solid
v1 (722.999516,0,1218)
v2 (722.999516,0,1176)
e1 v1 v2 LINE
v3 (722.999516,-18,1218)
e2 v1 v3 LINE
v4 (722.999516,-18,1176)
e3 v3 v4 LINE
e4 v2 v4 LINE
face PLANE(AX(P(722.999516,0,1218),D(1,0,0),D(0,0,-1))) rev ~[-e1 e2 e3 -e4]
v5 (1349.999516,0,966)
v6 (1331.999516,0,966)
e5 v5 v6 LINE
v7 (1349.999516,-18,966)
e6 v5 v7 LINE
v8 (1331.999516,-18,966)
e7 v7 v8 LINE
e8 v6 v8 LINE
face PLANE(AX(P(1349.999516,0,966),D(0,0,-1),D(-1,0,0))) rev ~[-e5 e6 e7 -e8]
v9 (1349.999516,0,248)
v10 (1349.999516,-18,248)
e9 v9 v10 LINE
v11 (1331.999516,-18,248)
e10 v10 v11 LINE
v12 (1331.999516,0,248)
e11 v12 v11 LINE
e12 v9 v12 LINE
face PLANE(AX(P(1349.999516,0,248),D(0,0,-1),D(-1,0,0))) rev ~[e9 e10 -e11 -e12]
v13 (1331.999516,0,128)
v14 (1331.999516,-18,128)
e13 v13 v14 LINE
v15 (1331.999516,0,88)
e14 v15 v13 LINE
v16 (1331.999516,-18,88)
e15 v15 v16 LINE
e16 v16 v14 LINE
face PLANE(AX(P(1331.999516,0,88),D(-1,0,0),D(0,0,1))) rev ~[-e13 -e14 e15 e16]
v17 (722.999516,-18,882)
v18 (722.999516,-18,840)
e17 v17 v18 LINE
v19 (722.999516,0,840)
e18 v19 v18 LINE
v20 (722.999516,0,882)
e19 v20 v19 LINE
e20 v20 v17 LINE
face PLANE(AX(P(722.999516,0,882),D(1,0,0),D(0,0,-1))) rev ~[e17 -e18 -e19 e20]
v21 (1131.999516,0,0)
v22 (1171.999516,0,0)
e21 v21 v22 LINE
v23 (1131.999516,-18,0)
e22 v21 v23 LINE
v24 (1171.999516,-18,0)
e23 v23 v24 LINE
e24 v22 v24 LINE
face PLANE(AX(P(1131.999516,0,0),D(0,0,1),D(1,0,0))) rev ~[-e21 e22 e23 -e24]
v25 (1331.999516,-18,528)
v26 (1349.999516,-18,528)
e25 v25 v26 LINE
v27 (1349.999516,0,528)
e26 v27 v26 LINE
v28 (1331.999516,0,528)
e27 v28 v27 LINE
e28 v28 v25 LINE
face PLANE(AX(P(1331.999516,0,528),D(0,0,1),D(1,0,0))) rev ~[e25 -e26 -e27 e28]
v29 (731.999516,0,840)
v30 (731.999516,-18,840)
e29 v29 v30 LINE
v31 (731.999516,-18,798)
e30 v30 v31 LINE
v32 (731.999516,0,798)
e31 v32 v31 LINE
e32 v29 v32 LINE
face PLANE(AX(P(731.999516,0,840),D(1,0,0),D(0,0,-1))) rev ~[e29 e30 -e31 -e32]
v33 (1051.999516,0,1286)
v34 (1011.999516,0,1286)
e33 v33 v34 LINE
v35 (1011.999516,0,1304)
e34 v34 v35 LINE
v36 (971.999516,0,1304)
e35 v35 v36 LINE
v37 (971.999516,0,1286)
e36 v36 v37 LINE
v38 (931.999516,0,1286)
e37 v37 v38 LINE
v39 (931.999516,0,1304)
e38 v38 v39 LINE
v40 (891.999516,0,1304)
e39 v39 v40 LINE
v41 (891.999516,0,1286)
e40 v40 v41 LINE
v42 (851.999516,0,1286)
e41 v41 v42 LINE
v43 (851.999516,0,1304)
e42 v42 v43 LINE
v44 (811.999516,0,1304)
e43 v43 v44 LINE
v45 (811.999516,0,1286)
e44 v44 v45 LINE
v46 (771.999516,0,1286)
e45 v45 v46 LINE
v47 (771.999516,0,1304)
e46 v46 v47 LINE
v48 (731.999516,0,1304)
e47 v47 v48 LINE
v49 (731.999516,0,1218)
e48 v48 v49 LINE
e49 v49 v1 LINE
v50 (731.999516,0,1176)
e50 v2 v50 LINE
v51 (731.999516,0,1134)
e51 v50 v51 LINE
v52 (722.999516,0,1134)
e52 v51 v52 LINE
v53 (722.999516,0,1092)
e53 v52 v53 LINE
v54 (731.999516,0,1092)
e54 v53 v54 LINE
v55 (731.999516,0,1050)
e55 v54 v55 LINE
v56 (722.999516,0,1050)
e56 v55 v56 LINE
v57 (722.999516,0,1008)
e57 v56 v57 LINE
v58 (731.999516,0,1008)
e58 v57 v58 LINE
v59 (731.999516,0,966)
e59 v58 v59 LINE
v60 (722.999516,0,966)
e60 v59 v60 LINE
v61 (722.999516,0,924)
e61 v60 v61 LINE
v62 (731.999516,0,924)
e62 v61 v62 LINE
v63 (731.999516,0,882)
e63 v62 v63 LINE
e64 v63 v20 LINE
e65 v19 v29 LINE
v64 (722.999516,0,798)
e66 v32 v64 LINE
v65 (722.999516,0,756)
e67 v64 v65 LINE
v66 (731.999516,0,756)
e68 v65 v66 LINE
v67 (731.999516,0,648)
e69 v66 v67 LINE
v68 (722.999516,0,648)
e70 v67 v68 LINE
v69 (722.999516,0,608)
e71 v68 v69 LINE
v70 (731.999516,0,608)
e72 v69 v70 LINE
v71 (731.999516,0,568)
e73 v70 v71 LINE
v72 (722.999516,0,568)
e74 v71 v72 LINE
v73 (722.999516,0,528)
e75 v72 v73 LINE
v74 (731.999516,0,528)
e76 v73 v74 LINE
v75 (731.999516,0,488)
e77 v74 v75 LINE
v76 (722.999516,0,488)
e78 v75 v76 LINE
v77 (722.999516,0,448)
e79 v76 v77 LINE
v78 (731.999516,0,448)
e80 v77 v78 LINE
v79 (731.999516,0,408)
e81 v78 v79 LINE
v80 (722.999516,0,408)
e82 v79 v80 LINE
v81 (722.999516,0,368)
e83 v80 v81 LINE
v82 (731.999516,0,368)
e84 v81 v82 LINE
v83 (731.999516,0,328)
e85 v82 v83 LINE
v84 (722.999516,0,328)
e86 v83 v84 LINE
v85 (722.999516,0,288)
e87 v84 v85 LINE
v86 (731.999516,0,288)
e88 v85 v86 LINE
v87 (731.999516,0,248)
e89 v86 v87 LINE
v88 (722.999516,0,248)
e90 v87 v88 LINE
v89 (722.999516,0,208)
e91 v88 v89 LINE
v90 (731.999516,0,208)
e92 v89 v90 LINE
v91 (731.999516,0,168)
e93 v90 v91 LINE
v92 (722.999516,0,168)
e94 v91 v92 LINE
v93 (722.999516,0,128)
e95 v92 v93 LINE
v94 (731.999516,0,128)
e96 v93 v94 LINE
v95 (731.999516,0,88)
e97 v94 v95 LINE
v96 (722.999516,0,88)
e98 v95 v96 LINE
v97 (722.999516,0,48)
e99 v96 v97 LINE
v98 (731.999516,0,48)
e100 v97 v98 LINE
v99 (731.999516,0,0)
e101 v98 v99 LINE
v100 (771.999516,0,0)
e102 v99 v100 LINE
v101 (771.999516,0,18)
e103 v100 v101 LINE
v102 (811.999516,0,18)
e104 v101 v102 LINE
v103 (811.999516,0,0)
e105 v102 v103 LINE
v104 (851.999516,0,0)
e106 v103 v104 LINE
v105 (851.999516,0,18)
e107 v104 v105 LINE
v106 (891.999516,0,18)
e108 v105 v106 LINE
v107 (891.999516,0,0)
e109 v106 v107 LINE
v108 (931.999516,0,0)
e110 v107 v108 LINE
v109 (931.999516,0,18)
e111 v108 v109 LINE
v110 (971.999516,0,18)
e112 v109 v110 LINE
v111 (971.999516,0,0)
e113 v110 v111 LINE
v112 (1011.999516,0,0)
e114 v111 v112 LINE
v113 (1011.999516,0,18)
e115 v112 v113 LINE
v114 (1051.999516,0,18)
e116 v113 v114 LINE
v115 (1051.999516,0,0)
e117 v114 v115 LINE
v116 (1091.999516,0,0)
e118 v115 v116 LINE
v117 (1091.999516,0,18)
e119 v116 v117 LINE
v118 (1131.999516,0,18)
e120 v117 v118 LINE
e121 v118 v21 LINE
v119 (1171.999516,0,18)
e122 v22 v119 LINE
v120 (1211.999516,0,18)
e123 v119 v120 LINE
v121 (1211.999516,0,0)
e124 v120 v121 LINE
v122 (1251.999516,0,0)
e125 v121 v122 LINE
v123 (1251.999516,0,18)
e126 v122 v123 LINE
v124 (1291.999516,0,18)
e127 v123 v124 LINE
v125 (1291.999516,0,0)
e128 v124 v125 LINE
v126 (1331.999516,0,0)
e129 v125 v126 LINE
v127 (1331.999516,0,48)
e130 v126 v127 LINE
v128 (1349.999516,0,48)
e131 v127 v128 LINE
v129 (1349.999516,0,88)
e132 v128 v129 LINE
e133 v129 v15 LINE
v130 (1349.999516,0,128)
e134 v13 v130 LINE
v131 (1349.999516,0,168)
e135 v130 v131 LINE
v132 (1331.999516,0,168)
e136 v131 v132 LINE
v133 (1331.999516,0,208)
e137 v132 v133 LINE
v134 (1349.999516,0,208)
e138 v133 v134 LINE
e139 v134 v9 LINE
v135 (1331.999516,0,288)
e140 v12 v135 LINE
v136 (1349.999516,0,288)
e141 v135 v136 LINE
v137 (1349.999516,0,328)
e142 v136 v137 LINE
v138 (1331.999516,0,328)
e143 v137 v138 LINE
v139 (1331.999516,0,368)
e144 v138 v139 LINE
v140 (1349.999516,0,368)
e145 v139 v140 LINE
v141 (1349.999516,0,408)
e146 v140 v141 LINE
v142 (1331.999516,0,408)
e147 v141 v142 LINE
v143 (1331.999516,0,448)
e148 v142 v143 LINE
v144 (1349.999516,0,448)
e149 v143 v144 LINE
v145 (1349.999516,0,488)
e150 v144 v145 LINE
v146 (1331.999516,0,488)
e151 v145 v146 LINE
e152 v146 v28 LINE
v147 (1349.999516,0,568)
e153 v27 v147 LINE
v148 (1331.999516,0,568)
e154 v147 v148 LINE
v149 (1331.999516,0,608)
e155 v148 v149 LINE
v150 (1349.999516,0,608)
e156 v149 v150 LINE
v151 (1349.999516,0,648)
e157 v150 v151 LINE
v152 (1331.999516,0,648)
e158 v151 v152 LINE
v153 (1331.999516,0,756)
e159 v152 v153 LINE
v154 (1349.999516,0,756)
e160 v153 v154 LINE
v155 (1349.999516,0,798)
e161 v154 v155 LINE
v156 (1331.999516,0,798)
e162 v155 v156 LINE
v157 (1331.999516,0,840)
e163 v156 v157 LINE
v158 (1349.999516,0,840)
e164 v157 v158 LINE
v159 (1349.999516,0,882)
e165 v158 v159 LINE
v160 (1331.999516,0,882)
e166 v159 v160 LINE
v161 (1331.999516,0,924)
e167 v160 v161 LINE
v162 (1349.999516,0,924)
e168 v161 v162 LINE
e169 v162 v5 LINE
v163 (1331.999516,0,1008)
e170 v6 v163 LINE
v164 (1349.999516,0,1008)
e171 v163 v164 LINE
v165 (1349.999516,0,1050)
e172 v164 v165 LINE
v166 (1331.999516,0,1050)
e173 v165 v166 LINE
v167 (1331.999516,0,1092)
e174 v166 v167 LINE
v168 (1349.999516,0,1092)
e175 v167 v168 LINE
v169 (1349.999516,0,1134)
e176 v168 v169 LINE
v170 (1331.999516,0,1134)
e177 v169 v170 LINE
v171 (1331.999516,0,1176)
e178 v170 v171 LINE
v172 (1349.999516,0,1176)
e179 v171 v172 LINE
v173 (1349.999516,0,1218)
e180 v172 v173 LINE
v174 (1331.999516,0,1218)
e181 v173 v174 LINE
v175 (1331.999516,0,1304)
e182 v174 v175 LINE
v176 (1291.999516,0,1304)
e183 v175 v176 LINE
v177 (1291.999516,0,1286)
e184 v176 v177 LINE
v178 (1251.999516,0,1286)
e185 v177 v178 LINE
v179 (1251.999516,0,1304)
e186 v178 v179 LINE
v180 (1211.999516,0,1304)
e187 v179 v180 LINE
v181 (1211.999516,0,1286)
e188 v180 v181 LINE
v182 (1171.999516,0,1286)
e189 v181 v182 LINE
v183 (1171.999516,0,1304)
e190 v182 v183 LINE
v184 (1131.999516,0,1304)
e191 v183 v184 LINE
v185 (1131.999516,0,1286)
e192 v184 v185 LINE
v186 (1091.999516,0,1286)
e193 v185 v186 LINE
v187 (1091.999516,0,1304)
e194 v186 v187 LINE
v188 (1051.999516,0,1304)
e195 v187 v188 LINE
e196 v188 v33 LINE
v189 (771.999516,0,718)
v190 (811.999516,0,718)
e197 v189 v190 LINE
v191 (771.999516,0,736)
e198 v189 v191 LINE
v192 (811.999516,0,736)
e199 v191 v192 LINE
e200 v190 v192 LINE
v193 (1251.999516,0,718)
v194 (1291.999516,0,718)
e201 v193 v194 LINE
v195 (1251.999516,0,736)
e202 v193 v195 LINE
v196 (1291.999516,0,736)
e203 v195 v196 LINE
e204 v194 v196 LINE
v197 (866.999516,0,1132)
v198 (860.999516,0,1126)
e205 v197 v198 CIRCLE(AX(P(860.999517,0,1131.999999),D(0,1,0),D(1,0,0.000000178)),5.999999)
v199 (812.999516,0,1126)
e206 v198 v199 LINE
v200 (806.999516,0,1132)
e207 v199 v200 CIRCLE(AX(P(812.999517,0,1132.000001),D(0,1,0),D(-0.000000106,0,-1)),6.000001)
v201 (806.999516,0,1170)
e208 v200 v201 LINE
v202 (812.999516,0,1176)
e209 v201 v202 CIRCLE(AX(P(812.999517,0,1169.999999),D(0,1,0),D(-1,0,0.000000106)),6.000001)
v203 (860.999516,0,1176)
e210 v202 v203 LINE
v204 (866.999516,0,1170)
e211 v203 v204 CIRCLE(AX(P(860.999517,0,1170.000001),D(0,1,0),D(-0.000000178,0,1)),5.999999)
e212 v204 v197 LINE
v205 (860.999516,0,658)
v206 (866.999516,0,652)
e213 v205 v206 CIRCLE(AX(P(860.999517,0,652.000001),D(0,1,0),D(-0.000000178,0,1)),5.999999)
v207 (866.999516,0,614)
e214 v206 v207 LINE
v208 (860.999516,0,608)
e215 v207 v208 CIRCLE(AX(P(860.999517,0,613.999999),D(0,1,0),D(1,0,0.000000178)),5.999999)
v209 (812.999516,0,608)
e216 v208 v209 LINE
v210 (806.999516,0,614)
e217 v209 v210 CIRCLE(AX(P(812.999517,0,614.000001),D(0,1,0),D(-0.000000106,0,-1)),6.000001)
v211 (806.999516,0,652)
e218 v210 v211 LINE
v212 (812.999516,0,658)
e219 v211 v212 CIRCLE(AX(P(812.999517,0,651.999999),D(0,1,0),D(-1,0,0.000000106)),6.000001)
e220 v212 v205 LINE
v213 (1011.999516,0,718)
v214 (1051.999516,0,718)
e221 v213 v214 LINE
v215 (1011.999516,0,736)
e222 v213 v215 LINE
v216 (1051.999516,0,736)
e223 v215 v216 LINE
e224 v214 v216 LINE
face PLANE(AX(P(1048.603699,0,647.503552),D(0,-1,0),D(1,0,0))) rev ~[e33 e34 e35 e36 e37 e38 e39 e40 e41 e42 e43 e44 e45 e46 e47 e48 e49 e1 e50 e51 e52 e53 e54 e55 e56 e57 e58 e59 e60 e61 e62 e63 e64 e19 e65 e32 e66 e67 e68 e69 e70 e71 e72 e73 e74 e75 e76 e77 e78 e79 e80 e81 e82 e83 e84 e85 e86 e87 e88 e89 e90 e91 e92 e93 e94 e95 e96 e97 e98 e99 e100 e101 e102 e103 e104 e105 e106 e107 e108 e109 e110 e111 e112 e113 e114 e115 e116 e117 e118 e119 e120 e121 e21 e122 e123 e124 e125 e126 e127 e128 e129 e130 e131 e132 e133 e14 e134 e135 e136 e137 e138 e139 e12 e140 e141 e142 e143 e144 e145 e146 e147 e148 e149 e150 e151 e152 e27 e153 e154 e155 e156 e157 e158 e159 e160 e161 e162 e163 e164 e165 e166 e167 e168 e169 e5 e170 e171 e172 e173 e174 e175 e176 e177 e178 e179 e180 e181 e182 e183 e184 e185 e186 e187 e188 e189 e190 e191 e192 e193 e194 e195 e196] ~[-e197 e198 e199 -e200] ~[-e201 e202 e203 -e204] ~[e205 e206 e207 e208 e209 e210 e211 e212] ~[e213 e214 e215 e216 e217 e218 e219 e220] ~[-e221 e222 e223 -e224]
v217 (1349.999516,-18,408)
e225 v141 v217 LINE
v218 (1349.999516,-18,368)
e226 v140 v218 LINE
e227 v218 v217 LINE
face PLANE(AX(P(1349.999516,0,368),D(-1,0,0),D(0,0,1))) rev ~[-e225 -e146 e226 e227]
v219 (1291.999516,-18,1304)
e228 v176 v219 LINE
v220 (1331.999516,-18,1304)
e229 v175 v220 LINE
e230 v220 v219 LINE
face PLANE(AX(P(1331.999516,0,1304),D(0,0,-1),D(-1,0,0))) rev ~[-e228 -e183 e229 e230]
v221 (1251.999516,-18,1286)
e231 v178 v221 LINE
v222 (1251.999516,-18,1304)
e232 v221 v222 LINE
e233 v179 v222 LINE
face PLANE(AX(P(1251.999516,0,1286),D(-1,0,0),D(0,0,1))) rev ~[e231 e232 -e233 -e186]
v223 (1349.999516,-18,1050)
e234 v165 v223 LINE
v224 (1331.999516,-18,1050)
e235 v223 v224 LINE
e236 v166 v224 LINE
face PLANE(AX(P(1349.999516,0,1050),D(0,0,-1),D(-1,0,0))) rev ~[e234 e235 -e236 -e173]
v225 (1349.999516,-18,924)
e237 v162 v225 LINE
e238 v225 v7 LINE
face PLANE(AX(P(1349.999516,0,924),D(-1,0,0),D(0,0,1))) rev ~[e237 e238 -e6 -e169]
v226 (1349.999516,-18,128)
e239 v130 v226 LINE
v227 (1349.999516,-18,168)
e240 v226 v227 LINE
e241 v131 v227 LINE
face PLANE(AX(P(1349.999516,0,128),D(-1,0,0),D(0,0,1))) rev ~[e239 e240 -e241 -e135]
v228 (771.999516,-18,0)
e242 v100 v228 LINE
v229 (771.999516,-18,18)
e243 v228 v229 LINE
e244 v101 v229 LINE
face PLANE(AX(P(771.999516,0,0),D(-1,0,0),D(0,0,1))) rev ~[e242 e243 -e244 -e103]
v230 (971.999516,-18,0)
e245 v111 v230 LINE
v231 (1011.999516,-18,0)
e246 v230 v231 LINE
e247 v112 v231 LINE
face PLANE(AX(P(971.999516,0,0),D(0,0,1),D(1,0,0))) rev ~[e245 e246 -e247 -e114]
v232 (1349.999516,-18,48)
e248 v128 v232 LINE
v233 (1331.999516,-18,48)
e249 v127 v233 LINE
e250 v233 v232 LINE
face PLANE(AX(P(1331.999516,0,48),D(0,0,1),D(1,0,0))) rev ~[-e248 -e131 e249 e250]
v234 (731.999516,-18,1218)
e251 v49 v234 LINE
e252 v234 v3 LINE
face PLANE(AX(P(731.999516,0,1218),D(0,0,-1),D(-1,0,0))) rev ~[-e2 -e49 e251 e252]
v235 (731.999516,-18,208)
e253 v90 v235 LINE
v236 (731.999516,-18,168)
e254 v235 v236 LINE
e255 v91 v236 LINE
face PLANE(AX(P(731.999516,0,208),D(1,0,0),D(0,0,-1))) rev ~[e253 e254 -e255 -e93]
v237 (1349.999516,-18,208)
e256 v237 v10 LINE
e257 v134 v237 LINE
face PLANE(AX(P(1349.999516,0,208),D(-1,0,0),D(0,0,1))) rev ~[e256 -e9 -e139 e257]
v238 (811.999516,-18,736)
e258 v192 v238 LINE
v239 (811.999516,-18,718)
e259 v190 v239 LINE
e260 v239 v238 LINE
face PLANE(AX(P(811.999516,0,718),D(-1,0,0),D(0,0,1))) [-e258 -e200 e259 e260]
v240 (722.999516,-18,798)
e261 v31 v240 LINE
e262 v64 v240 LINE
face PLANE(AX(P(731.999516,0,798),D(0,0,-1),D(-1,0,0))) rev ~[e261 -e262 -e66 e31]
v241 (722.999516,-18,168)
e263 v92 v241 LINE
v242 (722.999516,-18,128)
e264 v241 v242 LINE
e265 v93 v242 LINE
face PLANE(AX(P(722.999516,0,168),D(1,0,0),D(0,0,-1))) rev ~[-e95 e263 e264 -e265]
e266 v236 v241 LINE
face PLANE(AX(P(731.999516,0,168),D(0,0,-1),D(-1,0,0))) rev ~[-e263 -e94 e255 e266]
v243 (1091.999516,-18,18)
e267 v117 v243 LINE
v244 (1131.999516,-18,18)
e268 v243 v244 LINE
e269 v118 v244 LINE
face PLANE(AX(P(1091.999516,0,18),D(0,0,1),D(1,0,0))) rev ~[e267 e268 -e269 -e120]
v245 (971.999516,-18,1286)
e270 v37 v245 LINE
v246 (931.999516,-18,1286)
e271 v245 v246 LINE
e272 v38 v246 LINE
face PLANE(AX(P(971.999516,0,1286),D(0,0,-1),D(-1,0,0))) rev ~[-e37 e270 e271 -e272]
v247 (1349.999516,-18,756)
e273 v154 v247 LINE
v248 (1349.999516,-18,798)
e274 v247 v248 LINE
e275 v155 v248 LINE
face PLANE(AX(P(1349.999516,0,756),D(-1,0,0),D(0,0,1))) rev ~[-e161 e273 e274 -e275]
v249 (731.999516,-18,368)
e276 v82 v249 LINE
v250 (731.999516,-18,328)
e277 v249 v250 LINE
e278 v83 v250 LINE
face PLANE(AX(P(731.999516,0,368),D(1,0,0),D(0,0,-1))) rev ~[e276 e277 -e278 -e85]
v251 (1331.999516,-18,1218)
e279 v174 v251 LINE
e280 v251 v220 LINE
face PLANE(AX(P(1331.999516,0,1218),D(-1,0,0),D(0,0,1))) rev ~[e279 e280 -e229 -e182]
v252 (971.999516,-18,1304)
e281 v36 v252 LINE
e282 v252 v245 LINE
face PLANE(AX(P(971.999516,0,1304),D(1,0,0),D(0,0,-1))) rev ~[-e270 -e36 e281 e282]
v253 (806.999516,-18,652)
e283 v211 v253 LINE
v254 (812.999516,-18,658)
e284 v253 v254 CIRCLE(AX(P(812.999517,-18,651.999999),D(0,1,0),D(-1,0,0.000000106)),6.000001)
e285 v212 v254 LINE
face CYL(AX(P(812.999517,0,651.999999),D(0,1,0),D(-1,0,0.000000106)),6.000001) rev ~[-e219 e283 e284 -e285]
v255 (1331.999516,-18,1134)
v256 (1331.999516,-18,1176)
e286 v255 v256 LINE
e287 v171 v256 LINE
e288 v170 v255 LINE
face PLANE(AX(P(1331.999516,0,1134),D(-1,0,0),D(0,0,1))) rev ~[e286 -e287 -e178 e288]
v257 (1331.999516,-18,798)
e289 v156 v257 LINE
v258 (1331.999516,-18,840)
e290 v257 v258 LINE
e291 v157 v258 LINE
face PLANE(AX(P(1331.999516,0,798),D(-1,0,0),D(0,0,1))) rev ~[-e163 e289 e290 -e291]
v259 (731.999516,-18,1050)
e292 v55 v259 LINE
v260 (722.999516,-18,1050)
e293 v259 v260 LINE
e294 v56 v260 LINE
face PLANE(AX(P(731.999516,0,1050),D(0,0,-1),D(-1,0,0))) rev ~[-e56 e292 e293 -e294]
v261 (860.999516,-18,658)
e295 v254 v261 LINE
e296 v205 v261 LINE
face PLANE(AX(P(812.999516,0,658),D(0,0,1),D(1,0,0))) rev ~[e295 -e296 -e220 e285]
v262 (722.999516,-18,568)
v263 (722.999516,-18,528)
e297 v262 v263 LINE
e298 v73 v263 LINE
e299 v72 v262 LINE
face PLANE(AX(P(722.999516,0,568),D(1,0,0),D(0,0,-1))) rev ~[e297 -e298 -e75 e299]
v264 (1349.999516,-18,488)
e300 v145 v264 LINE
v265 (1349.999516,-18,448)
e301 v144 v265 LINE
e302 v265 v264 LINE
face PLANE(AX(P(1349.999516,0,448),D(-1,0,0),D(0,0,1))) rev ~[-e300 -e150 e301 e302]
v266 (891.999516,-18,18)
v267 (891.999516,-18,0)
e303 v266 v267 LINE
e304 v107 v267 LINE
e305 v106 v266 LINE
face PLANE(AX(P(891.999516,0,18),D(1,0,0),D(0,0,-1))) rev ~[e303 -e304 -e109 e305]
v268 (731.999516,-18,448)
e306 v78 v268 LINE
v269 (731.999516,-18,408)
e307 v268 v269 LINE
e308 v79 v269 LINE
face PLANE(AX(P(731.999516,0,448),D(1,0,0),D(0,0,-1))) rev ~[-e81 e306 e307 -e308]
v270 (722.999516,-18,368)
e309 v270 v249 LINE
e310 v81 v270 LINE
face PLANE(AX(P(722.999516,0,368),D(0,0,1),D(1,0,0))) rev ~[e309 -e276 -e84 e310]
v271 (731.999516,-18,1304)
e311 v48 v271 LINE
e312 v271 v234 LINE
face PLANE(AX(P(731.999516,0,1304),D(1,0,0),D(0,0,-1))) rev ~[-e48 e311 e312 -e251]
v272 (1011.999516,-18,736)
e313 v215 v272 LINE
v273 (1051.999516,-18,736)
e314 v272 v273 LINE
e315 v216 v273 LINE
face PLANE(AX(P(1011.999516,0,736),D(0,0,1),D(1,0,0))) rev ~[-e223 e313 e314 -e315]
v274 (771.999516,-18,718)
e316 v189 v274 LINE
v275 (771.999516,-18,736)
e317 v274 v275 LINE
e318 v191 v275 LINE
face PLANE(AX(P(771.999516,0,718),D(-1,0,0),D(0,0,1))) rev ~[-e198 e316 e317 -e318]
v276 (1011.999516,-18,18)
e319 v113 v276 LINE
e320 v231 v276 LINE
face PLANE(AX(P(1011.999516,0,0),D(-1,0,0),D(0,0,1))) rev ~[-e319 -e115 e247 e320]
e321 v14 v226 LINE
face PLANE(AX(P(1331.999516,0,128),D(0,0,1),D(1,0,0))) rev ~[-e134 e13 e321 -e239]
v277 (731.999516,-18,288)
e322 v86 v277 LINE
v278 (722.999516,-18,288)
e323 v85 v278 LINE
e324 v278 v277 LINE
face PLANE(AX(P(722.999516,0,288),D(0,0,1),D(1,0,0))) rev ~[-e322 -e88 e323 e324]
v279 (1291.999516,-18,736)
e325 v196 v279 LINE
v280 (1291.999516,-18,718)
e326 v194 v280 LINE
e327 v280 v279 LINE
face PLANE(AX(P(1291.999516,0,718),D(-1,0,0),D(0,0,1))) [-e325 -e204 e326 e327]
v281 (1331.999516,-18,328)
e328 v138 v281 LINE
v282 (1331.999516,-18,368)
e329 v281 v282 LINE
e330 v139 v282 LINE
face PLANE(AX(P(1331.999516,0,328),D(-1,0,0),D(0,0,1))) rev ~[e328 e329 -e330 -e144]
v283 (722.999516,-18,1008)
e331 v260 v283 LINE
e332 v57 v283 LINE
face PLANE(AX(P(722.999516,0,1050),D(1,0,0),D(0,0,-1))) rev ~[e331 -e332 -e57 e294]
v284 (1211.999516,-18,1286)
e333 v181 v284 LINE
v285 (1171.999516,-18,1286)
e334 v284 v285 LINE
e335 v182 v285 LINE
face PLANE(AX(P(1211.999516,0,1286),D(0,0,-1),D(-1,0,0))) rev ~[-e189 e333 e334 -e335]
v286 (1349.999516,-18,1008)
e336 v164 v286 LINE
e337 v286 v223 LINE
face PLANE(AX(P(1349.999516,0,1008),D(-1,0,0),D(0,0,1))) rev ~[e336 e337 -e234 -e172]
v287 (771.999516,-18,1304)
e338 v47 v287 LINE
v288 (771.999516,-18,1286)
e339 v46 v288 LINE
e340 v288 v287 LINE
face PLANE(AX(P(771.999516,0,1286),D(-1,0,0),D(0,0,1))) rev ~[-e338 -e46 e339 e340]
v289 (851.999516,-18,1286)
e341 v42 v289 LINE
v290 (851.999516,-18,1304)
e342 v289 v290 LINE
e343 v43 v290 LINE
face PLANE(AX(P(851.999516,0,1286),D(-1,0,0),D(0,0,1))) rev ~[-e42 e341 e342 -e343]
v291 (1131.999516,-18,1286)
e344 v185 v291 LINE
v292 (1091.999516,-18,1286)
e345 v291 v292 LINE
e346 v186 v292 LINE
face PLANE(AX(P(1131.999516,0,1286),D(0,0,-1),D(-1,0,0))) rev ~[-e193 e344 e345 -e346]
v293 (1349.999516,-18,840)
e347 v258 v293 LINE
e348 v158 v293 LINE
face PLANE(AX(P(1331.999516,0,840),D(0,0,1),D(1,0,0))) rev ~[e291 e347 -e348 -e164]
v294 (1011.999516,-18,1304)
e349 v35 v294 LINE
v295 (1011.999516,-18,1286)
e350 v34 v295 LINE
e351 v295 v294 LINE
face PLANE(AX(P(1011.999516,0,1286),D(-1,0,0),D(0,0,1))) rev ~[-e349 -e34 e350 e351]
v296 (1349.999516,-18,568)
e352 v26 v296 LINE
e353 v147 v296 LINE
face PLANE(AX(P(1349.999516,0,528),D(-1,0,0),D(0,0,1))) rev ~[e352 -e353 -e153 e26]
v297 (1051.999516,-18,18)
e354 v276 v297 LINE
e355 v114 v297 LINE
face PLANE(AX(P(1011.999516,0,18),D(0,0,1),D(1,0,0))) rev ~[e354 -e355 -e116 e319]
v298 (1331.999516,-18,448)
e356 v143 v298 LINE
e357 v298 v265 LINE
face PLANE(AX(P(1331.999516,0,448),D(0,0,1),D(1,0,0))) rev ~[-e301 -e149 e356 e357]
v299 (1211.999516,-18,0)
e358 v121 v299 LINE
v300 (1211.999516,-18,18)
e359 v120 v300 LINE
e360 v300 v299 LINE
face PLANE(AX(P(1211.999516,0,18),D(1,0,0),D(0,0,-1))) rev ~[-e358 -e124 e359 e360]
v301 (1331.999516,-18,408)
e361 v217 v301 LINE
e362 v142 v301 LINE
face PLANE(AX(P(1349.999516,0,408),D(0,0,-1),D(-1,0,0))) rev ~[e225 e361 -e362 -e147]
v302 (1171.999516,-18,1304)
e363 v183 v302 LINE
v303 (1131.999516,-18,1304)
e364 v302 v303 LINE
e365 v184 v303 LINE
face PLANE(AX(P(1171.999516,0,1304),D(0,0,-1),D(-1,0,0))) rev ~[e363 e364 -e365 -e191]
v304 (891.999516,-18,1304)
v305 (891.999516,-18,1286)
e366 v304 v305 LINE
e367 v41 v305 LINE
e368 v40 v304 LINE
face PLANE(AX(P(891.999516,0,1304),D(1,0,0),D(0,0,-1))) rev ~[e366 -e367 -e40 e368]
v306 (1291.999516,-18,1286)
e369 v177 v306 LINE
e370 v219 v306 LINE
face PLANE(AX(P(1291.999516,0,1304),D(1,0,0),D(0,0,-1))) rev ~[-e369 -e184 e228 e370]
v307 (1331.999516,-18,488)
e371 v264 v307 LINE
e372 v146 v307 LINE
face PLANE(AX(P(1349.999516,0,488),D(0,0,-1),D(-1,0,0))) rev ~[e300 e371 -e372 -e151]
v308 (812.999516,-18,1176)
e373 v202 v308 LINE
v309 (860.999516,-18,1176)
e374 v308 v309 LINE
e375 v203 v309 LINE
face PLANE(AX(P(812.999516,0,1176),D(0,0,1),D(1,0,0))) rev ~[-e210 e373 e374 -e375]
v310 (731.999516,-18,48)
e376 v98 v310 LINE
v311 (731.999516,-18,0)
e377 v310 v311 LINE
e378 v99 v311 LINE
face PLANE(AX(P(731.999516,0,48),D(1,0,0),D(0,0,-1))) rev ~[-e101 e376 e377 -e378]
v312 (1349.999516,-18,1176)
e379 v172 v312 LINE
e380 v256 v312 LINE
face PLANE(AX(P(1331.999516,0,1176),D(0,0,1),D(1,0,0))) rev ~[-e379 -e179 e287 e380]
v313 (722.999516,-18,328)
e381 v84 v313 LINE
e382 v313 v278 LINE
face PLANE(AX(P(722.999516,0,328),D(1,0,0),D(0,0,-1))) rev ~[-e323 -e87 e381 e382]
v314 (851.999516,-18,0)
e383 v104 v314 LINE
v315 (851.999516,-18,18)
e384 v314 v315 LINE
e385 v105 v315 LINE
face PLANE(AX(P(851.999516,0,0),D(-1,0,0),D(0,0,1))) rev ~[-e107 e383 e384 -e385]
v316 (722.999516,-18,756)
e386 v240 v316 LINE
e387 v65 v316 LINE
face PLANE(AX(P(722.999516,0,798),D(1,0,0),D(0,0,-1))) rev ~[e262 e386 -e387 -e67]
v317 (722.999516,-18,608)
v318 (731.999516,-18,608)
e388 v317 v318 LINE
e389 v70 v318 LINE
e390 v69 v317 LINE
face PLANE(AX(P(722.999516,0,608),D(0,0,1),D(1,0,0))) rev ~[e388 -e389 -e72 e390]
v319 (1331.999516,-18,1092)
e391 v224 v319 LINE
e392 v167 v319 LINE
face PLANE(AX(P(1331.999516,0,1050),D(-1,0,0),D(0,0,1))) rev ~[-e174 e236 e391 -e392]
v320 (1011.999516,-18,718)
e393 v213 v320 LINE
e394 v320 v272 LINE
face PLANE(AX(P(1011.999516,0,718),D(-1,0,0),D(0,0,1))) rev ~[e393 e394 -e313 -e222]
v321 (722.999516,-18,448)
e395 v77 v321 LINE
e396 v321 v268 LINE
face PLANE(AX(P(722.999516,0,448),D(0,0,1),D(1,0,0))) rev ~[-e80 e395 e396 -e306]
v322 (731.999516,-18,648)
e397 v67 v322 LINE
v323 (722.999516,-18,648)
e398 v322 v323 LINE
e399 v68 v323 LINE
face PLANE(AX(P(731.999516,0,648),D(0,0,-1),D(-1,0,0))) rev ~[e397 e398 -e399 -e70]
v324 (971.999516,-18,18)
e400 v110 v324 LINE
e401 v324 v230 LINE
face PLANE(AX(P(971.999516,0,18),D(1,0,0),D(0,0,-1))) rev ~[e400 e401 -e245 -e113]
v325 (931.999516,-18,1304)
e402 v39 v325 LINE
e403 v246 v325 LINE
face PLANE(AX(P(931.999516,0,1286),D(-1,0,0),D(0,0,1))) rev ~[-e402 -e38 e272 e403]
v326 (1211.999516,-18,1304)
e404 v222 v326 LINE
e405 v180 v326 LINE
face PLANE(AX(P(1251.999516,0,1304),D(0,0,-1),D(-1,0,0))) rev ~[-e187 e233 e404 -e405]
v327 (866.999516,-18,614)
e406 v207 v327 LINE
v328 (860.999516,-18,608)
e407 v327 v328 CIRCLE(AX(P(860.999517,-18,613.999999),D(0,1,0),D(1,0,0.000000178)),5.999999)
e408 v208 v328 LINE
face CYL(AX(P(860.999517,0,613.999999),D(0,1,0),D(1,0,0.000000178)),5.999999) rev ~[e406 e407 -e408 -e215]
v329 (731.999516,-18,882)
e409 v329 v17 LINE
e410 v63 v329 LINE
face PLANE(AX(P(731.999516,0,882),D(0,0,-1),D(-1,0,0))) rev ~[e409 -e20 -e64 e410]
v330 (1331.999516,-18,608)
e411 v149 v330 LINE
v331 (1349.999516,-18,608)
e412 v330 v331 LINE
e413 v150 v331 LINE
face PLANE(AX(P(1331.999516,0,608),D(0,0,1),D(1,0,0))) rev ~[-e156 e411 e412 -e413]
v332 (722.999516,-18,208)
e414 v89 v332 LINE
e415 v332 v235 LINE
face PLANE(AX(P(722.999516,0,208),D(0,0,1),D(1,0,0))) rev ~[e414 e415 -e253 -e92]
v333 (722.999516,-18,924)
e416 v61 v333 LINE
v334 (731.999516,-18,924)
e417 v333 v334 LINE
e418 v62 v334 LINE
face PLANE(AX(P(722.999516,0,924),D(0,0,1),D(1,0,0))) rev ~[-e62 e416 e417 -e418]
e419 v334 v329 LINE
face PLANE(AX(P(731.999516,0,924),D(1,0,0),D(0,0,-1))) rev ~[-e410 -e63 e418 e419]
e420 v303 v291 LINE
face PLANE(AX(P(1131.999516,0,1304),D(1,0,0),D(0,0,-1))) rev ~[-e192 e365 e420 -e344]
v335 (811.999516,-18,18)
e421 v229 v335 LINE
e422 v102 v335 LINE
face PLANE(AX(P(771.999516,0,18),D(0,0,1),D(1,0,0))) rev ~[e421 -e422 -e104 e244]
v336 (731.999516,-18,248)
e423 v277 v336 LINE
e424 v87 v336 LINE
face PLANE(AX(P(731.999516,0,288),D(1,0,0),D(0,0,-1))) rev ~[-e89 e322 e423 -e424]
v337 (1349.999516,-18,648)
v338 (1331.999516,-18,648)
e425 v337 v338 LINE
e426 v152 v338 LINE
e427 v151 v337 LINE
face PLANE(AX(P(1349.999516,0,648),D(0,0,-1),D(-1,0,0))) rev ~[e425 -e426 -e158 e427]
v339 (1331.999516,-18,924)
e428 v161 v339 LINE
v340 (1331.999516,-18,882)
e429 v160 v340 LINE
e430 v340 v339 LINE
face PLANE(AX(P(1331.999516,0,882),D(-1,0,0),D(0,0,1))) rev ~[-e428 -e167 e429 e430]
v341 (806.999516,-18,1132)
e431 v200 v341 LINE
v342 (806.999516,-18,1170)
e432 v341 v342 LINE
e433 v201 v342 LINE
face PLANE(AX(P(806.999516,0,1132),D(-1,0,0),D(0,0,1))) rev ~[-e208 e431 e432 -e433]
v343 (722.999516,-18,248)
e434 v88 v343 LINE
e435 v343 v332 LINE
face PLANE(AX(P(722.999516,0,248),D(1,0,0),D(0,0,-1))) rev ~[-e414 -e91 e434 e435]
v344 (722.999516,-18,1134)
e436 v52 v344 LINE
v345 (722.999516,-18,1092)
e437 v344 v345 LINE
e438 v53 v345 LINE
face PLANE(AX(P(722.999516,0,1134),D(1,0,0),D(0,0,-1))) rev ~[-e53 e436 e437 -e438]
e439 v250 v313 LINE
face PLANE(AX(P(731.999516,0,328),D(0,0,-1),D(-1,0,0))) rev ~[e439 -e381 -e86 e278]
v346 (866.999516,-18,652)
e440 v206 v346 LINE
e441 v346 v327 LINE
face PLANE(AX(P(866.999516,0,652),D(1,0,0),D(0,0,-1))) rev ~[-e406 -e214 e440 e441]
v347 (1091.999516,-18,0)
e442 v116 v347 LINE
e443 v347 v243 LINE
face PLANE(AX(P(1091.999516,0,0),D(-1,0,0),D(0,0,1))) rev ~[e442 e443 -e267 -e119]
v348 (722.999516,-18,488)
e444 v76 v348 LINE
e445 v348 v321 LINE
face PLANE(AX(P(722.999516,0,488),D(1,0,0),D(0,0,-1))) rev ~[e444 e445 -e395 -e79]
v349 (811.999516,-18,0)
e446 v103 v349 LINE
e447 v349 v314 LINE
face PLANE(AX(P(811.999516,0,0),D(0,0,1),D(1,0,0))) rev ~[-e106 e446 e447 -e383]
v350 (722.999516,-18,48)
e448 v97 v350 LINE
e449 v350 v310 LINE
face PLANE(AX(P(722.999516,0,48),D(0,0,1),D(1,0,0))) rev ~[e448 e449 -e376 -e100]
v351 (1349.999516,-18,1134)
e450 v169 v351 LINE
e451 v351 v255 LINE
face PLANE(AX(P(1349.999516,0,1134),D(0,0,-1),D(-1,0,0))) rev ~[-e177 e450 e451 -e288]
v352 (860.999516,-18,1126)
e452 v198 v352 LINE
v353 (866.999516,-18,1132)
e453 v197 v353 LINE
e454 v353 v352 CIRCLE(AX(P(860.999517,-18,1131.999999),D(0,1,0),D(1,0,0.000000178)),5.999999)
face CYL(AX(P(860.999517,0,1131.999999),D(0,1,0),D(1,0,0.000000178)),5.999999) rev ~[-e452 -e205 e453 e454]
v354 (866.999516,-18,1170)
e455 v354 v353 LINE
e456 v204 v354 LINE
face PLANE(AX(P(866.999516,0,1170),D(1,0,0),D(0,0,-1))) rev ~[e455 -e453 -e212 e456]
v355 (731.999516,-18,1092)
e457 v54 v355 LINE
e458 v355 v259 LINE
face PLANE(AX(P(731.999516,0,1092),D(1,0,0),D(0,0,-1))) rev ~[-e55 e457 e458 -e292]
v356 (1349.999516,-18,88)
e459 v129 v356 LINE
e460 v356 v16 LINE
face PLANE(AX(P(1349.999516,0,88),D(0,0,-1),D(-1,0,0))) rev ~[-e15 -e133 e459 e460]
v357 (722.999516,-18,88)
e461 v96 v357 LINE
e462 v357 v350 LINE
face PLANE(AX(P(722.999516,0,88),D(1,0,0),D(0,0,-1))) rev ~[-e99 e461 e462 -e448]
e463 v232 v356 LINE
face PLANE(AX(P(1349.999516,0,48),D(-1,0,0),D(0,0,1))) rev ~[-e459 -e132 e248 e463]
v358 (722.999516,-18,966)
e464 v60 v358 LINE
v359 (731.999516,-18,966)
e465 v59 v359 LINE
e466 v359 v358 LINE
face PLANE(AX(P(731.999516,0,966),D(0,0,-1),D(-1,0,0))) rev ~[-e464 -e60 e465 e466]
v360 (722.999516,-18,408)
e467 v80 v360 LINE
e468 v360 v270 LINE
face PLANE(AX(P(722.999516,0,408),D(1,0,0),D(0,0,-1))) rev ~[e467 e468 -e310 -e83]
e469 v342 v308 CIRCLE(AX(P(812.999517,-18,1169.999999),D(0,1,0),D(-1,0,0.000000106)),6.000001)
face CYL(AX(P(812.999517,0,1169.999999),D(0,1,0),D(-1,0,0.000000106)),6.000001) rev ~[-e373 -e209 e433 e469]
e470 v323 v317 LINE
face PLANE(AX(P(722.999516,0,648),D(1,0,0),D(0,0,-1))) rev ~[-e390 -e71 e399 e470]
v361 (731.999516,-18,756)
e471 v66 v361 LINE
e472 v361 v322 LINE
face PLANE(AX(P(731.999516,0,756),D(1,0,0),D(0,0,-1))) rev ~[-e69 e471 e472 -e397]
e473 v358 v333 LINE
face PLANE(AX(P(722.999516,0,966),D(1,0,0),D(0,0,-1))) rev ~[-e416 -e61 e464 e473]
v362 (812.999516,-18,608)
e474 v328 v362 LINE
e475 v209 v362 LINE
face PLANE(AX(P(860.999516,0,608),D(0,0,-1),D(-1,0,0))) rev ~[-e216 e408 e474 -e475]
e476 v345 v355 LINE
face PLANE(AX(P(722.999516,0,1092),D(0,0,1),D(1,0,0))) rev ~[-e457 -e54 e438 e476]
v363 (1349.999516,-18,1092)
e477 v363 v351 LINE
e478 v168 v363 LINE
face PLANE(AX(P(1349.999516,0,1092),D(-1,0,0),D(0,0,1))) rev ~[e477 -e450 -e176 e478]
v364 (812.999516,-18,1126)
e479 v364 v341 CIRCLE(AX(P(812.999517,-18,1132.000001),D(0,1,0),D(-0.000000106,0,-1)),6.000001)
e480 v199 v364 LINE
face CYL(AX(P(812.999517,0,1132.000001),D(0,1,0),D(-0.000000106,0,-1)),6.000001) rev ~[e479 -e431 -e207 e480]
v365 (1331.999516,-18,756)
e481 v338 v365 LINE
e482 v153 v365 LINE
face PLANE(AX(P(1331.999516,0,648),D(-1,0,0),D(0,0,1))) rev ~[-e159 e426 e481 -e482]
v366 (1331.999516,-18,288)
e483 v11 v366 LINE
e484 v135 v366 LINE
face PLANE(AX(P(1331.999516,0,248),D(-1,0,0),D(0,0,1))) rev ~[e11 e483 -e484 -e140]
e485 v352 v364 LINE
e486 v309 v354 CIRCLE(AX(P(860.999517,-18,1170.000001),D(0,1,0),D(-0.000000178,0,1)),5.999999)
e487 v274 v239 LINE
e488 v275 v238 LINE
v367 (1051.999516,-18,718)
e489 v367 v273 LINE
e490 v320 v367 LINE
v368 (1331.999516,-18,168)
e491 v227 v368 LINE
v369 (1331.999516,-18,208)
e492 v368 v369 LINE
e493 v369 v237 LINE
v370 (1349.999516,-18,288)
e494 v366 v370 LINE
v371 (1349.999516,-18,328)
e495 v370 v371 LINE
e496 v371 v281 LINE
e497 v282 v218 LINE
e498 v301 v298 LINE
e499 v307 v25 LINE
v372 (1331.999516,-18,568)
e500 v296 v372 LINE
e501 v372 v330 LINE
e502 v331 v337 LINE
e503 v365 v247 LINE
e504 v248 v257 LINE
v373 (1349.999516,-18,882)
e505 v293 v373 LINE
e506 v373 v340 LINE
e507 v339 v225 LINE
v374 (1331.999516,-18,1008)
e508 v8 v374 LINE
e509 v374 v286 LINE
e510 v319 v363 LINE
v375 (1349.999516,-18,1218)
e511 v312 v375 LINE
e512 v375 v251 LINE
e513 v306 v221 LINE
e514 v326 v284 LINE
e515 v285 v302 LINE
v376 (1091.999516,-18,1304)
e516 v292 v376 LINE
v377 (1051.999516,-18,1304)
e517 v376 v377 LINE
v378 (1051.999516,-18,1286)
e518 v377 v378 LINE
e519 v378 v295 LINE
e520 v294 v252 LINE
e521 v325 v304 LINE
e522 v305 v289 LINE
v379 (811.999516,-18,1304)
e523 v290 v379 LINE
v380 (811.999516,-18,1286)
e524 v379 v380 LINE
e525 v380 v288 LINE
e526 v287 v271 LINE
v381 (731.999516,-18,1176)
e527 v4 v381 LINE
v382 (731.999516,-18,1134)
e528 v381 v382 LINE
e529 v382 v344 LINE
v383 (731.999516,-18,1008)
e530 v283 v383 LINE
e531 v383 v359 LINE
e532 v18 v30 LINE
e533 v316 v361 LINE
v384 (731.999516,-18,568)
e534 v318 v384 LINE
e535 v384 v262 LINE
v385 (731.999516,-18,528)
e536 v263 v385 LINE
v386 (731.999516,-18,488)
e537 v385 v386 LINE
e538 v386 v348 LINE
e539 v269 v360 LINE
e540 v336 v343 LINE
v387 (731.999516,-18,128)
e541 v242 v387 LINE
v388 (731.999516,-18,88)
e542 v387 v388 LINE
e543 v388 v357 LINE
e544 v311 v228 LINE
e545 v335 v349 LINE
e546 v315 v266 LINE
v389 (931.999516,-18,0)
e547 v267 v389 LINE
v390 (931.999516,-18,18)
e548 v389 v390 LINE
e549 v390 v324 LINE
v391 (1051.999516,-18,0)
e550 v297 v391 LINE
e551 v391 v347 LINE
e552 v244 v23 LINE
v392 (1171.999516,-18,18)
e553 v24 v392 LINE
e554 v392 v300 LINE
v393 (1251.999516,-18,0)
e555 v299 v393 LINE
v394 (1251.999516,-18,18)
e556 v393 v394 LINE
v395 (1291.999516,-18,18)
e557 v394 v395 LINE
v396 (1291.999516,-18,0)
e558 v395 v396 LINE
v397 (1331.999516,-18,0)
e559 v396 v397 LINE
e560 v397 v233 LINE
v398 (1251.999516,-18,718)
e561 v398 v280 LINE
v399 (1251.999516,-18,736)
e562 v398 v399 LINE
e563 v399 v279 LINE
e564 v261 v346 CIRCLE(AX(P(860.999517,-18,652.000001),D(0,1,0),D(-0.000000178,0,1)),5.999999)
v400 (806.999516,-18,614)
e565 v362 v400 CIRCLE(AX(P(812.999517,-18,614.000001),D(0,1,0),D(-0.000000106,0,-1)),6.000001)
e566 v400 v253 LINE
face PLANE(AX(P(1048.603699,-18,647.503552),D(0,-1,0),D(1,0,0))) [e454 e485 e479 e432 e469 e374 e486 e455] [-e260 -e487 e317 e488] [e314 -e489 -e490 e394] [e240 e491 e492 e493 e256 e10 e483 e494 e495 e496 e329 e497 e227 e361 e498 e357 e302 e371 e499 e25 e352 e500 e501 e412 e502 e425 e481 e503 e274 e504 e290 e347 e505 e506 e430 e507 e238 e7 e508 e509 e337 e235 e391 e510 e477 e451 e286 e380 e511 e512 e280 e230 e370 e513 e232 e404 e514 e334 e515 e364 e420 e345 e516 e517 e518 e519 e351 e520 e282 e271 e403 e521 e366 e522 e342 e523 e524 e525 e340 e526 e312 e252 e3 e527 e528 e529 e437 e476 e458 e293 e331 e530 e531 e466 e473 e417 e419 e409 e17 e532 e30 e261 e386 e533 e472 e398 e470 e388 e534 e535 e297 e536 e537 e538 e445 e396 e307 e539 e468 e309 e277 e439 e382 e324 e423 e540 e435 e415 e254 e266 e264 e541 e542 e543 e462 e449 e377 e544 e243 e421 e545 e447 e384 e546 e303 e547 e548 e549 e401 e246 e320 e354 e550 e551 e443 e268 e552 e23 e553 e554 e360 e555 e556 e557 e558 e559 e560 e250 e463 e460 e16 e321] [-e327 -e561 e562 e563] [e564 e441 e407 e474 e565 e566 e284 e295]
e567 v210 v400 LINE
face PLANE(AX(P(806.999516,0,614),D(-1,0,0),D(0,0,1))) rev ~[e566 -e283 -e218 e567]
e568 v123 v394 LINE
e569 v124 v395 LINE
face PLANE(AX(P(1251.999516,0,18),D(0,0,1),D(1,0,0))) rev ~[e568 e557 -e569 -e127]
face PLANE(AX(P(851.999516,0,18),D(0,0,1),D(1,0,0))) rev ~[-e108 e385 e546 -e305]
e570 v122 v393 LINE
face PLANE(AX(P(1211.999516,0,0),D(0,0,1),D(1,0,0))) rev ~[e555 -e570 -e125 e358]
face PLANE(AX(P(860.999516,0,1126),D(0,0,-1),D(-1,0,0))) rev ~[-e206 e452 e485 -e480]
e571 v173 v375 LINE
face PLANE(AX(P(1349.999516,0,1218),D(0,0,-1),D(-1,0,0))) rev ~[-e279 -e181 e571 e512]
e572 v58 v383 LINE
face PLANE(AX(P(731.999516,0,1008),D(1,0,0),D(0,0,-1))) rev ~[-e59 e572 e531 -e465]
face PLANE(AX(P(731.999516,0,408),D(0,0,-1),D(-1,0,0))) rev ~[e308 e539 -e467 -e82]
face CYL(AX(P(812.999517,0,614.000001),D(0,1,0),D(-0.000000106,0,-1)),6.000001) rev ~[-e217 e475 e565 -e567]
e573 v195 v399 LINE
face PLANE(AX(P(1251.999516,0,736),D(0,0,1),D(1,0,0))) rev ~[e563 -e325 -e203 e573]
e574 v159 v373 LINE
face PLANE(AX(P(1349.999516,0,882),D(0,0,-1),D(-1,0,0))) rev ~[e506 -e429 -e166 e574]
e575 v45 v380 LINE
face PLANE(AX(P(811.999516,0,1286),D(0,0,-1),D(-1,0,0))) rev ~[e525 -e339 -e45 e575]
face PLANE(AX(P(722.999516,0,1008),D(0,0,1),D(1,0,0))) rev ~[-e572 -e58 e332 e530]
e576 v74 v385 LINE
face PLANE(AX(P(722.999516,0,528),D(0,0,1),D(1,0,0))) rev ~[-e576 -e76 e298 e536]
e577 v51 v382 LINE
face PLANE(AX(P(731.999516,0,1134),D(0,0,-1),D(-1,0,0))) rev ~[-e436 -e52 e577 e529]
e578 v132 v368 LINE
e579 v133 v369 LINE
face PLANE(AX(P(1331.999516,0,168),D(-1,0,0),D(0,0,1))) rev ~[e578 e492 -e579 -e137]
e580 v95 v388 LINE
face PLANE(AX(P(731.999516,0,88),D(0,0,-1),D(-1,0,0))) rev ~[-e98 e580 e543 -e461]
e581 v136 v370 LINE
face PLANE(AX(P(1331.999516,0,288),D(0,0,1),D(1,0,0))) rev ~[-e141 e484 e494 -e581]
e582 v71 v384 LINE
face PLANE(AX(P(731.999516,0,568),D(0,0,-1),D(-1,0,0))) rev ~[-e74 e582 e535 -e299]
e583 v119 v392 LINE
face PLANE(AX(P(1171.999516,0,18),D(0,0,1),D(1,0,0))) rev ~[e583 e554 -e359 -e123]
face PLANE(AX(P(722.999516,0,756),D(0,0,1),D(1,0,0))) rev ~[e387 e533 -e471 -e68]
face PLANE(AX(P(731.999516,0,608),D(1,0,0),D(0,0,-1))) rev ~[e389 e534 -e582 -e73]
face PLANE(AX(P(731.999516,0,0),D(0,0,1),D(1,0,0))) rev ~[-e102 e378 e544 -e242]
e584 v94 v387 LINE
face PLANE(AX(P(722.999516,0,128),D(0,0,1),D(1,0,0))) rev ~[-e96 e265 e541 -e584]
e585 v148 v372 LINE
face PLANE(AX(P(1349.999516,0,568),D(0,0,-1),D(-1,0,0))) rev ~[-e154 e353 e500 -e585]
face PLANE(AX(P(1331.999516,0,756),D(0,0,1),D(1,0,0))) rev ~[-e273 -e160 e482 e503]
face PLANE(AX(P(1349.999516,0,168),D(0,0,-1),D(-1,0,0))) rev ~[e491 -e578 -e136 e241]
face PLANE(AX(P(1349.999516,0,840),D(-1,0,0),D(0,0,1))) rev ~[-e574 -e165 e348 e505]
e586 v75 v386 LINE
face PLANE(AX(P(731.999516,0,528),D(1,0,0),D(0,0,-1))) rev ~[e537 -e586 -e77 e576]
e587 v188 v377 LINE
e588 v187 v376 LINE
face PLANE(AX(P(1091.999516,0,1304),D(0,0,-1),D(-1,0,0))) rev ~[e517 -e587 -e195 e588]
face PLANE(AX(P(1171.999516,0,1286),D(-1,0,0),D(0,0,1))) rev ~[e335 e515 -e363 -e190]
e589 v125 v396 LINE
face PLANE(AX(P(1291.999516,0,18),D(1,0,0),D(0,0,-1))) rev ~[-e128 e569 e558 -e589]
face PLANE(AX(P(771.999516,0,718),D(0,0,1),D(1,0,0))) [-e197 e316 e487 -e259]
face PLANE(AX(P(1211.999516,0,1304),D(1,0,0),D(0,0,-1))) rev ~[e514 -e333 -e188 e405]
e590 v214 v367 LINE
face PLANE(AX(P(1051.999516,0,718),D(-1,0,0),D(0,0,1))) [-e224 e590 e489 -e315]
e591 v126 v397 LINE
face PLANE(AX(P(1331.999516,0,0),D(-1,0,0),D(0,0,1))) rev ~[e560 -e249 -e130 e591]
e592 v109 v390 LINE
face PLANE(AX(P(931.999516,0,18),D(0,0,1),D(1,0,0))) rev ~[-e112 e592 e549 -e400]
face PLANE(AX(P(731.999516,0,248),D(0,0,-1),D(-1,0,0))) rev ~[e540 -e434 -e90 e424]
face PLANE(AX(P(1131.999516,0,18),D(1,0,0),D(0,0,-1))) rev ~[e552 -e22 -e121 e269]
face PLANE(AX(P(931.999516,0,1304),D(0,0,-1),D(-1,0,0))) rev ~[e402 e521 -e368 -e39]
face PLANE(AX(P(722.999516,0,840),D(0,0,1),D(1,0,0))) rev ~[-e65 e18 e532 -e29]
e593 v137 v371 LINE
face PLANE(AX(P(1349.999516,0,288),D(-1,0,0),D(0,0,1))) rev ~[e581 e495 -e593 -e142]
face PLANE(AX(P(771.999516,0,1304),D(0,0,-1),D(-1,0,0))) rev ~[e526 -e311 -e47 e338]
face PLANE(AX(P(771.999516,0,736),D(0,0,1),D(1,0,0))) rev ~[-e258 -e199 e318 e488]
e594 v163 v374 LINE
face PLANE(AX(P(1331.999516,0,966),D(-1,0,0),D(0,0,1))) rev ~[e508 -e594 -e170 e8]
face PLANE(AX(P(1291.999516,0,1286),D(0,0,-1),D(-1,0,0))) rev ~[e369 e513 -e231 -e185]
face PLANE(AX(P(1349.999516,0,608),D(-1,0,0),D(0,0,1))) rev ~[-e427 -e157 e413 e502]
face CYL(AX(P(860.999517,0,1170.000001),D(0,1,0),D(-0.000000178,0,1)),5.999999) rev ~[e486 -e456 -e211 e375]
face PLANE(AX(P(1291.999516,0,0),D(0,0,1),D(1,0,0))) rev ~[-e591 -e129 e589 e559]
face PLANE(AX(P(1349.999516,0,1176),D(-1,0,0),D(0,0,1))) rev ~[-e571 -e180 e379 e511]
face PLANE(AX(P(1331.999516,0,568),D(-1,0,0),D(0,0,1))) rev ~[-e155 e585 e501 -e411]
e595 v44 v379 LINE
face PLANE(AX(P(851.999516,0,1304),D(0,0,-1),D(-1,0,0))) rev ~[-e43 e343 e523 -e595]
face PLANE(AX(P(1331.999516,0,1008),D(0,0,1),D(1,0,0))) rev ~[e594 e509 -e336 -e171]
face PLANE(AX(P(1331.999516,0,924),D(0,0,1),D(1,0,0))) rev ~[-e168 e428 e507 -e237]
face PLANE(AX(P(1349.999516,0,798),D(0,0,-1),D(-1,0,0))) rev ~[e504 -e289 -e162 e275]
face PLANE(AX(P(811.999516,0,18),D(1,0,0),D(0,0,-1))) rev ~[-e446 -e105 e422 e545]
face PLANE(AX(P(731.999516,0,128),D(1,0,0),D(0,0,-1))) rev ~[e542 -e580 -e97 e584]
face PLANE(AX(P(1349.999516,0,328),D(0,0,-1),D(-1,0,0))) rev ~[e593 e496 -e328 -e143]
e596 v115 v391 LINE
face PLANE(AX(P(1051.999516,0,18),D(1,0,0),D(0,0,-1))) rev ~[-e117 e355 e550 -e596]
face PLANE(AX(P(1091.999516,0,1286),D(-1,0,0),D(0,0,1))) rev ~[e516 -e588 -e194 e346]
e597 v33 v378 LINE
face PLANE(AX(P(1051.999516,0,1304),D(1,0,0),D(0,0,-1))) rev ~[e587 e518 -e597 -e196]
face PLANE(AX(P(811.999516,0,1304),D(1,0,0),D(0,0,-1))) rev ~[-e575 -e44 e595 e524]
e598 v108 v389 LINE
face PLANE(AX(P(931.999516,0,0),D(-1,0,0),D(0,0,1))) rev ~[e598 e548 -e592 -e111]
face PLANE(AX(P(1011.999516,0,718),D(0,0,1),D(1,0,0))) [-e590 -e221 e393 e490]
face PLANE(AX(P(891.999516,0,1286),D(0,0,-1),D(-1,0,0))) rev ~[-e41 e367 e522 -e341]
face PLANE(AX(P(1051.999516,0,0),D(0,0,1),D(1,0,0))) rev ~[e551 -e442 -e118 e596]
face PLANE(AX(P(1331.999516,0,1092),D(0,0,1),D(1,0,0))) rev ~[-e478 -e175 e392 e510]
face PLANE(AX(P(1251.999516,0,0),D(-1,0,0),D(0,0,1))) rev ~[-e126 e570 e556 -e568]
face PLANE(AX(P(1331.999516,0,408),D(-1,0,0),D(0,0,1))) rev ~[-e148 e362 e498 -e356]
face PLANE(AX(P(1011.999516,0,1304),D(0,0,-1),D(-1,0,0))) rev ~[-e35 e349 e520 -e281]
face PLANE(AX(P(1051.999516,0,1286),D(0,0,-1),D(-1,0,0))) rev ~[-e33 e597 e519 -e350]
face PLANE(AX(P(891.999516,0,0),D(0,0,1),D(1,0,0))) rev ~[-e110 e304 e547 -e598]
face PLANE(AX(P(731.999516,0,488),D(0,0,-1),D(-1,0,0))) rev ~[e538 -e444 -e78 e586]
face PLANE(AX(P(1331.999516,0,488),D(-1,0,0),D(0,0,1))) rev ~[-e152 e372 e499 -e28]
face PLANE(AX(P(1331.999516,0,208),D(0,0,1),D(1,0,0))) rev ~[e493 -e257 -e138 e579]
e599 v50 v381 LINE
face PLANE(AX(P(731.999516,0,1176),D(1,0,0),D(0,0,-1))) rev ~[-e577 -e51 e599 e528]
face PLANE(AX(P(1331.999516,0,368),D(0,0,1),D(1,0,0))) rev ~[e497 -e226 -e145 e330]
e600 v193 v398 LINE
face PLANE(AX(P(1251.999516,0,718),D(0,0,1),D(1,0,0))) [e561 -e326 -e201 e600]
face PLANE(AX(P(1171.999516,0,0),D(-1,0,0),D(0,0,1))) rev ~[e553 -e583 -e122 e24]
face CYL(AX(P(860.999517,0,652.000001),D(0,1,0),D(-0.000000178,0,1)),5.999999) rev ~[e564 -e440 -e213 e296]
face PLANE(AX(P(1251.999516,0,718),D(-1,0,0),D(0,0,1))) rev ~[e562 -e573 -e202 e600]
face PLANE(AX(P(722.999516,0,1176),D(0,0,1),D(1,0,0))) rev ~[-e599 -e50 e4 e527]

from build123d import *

# Parameters (mm, degrees)
F0_W     = 40
F0_H     = 18
F1_DEPTH = 18


with BuildPart() as f1:
    # F0 (on Front) → F1 (new body)
    with BuildSketch(Plane.XZ):
        Polygon((1349.999516, 1218), (1331.999516, 1218), (1331.999516, 1304), (1291.999516, 1304), (1291.999516, 1286), (1251.999516, 1286), (1251.999516, 1304), (1211.999516, 1304), (1211.999516, 1286), (1171.999516, 1286), (1171.999516, 1304), (1131.999516, 1304), (1131.999516, 1286), (1091.999516, 1286), (1091.999516, 1304), (1051.999516, 1304), (1051.999516, 1286), (1011.999516, 1286), (1011.999516, 1304), (971.999516, 1304), (971.999516, 1286), (931.999516, 1286), (931.999516, 1304), (891.999516, 1304), (891.999516, 1286), (851.999516, 1286), (851.999516, 1304), (811.999516, 1304), (811.999516, 1286), (771.999516, 1286), (771.999516, 1304), (731.999516, 1304), (731.999516, 1218), (722.999516, 1218), (722.999516, 1176), (731.999516, 1176), (731.999516, 1134), (722.999516, 1134), (722.999516, 1092), (731.999516, 1092), (731.999516, 1050), (722.999516, 1050), (722.999516, 1008), (731.999516, 1008), (731.999516, 966), (722.999516, 966), (722.999516, 924), (731.999516, 924), (731.999516, 882), (722.999516, 882), (722.999516, 840), (731.999516, 840), (731.999516, 798), (722.999516, 798), (722.999516, 756), (731.999516, 756), (731.999516, 648), (722.999516, 648), (722.999516, 608), (731.999516, 608), (731.999516, 568), (722.999516, 568), (722.999516, 528), (731.999516, 528), (731.999516, 488), (722.999516, 488), (722.999516, 448), (731.999516, 448), (731.999516, 408), (722.999516, 408), (722.999516, 368), (731.999516, 368), (731.999516, 328), (722.999516, 328), (722.999516, 288), (731.999516, 288), (731.999516, 248), (722.999516, 248), (722.999516, 208), (731.999516, 208), (731.999516, 168), (722.999516, 168), (722.999516, 128), (731.999516, 128), (731.999516, 88), (722.999516, 88), (722.999516, 48), (731.999516, 48), (731.999516, 0), (771.999516, 0), (771.999516, 18), (811.999516, 18), (811.999516, 0), (851.999516, 0), (851.999516, 18), (891.999516, 18), (891.999516, 0), (931.999516, 0), (931.999516, 18), (971.999516, 18), (971.999516, 0), (1011.999516, 0), (1011.999516, 18), (1051.999516, 18), (1051.999516, 0), (1091.999516, 0), (1091.999516, 18), (1131.999516, 18), (1131.999516, 0), (1171.999516, 0), (1171.999516, 18), (1211.999516, 18), (1211.999516, 0), (1251.999516, 0), (1251.999516, 18), (1291.999516, 18), (1291.999516, 0), (1331.999516, 0), (1331.999516, 48), (1349.999516, 48), (1349.999516, 88), (1331.999516, 88), (1331.999516, 128), (1349.999516, 128), (1349.999516, 168), (1331.999516, 168), (1331.999516, 208), (1349.999516, 208), (1349.999516, 248), (1331.999516, 248), (1331.999516, 288), (1349.999516, 288), (1349.999516, 328), (1331.999516, 328), (1331.999516, 368), (1349.999516, 368), (1349.999516, 408), (1331.999516, 408), (1331.999516, 448), (1349.999516, 448), (1349.999516, 488), (1331.999516, 488), (1331.999516, 528), (1349.999516, 528), (1349.999516, 568), (1331.999516, 568), (1331.999516, 608), (1349.999516, 608), (1349.999516, 648), (1331.999516, 648), (1331.999516, 756), (1349.999516, 756), (1349.999516, 798), (1331.999516, 798), (1331.999516, 840), (1349.999516, 840), (1349.999516, 882), (1331.999516, 882), (1331.999516, 924), (1349.999516, 924), (1349.999516, 966), (1331.999516, 966), (1331.999516, 1008), (1349.999516, 1008), (1349.999516, 1050), (1331.999516, 1050), (1331.999516, 1092), (1349.999516, 1092), (1349.999516, 1134), (1331.999516, 1134), (1331.999516, 1176), (1349.999516, 1176), align=None)
        with BuildLine():
            Line((806.999516, 614), (806.999516, 652))
            ThreePointArc((806.999516, 652), (808.756876, 656.242641), (812.999516, 658))
            Line((812.999516, 658), (860.999516, 658))
            ThreePointArc((860.999516, 658), (865.242157, 656.242641), (866.999516, 652))
            Line((866.999516, 652), (866.999516, 614))
            ThreePointArc((866.999516, 614), (865.242157, 609.757359), (860.999516, 608))
            Line((860.999516, 608), (812.999516, 608))
            ThreePointArc((812.999516, 608), (808.756876, 609.757359), (806.999516, 614))
        make_face(mode=Mode.SUBTRACT)
        with Locations((791.999516, 727)):
            Rectangle(F0_W, F0_H, mode=Mode.SUBTRACT)
        with Locations((1031.999516, 727)):
            Rectangle(F0_W, F0_H, mode=Mode.SUBTRACT)
        with BuildLine():
            ThreePointArc((860.999516, 1176), (865.242157, 1174.242641), (866.999516, 1170))
            Line((866.999516, 1170), (866.999516, 1132))
            ThreePointArc((866.999516, 1132), (865.242157, 1127.757359), (860.999516, 1126))
            Line((860.999516, 1126), (812.999516, 1126))
            ThreePointArc((812.999516, 1126), (808.756876, 1127.757359), (806.999516, 1132))
            Line((806.999516, 1132), (806.999516, 1170))
            ThreePointArc((806.999516, 1170), (808.756876, 1174.242641), (812.999516, 1176))
            Line((812.999516, 1176), (860.999516, 1176))
        make_face(mode=Mode.SUBTRACT)
        with Locations((1271.999516, 727)):
            Rectangle(F0_W, F0_H, mode=Mode.SUBTRACT)
    extrude(amount=F1_DEPTH)


solid = f1.part
